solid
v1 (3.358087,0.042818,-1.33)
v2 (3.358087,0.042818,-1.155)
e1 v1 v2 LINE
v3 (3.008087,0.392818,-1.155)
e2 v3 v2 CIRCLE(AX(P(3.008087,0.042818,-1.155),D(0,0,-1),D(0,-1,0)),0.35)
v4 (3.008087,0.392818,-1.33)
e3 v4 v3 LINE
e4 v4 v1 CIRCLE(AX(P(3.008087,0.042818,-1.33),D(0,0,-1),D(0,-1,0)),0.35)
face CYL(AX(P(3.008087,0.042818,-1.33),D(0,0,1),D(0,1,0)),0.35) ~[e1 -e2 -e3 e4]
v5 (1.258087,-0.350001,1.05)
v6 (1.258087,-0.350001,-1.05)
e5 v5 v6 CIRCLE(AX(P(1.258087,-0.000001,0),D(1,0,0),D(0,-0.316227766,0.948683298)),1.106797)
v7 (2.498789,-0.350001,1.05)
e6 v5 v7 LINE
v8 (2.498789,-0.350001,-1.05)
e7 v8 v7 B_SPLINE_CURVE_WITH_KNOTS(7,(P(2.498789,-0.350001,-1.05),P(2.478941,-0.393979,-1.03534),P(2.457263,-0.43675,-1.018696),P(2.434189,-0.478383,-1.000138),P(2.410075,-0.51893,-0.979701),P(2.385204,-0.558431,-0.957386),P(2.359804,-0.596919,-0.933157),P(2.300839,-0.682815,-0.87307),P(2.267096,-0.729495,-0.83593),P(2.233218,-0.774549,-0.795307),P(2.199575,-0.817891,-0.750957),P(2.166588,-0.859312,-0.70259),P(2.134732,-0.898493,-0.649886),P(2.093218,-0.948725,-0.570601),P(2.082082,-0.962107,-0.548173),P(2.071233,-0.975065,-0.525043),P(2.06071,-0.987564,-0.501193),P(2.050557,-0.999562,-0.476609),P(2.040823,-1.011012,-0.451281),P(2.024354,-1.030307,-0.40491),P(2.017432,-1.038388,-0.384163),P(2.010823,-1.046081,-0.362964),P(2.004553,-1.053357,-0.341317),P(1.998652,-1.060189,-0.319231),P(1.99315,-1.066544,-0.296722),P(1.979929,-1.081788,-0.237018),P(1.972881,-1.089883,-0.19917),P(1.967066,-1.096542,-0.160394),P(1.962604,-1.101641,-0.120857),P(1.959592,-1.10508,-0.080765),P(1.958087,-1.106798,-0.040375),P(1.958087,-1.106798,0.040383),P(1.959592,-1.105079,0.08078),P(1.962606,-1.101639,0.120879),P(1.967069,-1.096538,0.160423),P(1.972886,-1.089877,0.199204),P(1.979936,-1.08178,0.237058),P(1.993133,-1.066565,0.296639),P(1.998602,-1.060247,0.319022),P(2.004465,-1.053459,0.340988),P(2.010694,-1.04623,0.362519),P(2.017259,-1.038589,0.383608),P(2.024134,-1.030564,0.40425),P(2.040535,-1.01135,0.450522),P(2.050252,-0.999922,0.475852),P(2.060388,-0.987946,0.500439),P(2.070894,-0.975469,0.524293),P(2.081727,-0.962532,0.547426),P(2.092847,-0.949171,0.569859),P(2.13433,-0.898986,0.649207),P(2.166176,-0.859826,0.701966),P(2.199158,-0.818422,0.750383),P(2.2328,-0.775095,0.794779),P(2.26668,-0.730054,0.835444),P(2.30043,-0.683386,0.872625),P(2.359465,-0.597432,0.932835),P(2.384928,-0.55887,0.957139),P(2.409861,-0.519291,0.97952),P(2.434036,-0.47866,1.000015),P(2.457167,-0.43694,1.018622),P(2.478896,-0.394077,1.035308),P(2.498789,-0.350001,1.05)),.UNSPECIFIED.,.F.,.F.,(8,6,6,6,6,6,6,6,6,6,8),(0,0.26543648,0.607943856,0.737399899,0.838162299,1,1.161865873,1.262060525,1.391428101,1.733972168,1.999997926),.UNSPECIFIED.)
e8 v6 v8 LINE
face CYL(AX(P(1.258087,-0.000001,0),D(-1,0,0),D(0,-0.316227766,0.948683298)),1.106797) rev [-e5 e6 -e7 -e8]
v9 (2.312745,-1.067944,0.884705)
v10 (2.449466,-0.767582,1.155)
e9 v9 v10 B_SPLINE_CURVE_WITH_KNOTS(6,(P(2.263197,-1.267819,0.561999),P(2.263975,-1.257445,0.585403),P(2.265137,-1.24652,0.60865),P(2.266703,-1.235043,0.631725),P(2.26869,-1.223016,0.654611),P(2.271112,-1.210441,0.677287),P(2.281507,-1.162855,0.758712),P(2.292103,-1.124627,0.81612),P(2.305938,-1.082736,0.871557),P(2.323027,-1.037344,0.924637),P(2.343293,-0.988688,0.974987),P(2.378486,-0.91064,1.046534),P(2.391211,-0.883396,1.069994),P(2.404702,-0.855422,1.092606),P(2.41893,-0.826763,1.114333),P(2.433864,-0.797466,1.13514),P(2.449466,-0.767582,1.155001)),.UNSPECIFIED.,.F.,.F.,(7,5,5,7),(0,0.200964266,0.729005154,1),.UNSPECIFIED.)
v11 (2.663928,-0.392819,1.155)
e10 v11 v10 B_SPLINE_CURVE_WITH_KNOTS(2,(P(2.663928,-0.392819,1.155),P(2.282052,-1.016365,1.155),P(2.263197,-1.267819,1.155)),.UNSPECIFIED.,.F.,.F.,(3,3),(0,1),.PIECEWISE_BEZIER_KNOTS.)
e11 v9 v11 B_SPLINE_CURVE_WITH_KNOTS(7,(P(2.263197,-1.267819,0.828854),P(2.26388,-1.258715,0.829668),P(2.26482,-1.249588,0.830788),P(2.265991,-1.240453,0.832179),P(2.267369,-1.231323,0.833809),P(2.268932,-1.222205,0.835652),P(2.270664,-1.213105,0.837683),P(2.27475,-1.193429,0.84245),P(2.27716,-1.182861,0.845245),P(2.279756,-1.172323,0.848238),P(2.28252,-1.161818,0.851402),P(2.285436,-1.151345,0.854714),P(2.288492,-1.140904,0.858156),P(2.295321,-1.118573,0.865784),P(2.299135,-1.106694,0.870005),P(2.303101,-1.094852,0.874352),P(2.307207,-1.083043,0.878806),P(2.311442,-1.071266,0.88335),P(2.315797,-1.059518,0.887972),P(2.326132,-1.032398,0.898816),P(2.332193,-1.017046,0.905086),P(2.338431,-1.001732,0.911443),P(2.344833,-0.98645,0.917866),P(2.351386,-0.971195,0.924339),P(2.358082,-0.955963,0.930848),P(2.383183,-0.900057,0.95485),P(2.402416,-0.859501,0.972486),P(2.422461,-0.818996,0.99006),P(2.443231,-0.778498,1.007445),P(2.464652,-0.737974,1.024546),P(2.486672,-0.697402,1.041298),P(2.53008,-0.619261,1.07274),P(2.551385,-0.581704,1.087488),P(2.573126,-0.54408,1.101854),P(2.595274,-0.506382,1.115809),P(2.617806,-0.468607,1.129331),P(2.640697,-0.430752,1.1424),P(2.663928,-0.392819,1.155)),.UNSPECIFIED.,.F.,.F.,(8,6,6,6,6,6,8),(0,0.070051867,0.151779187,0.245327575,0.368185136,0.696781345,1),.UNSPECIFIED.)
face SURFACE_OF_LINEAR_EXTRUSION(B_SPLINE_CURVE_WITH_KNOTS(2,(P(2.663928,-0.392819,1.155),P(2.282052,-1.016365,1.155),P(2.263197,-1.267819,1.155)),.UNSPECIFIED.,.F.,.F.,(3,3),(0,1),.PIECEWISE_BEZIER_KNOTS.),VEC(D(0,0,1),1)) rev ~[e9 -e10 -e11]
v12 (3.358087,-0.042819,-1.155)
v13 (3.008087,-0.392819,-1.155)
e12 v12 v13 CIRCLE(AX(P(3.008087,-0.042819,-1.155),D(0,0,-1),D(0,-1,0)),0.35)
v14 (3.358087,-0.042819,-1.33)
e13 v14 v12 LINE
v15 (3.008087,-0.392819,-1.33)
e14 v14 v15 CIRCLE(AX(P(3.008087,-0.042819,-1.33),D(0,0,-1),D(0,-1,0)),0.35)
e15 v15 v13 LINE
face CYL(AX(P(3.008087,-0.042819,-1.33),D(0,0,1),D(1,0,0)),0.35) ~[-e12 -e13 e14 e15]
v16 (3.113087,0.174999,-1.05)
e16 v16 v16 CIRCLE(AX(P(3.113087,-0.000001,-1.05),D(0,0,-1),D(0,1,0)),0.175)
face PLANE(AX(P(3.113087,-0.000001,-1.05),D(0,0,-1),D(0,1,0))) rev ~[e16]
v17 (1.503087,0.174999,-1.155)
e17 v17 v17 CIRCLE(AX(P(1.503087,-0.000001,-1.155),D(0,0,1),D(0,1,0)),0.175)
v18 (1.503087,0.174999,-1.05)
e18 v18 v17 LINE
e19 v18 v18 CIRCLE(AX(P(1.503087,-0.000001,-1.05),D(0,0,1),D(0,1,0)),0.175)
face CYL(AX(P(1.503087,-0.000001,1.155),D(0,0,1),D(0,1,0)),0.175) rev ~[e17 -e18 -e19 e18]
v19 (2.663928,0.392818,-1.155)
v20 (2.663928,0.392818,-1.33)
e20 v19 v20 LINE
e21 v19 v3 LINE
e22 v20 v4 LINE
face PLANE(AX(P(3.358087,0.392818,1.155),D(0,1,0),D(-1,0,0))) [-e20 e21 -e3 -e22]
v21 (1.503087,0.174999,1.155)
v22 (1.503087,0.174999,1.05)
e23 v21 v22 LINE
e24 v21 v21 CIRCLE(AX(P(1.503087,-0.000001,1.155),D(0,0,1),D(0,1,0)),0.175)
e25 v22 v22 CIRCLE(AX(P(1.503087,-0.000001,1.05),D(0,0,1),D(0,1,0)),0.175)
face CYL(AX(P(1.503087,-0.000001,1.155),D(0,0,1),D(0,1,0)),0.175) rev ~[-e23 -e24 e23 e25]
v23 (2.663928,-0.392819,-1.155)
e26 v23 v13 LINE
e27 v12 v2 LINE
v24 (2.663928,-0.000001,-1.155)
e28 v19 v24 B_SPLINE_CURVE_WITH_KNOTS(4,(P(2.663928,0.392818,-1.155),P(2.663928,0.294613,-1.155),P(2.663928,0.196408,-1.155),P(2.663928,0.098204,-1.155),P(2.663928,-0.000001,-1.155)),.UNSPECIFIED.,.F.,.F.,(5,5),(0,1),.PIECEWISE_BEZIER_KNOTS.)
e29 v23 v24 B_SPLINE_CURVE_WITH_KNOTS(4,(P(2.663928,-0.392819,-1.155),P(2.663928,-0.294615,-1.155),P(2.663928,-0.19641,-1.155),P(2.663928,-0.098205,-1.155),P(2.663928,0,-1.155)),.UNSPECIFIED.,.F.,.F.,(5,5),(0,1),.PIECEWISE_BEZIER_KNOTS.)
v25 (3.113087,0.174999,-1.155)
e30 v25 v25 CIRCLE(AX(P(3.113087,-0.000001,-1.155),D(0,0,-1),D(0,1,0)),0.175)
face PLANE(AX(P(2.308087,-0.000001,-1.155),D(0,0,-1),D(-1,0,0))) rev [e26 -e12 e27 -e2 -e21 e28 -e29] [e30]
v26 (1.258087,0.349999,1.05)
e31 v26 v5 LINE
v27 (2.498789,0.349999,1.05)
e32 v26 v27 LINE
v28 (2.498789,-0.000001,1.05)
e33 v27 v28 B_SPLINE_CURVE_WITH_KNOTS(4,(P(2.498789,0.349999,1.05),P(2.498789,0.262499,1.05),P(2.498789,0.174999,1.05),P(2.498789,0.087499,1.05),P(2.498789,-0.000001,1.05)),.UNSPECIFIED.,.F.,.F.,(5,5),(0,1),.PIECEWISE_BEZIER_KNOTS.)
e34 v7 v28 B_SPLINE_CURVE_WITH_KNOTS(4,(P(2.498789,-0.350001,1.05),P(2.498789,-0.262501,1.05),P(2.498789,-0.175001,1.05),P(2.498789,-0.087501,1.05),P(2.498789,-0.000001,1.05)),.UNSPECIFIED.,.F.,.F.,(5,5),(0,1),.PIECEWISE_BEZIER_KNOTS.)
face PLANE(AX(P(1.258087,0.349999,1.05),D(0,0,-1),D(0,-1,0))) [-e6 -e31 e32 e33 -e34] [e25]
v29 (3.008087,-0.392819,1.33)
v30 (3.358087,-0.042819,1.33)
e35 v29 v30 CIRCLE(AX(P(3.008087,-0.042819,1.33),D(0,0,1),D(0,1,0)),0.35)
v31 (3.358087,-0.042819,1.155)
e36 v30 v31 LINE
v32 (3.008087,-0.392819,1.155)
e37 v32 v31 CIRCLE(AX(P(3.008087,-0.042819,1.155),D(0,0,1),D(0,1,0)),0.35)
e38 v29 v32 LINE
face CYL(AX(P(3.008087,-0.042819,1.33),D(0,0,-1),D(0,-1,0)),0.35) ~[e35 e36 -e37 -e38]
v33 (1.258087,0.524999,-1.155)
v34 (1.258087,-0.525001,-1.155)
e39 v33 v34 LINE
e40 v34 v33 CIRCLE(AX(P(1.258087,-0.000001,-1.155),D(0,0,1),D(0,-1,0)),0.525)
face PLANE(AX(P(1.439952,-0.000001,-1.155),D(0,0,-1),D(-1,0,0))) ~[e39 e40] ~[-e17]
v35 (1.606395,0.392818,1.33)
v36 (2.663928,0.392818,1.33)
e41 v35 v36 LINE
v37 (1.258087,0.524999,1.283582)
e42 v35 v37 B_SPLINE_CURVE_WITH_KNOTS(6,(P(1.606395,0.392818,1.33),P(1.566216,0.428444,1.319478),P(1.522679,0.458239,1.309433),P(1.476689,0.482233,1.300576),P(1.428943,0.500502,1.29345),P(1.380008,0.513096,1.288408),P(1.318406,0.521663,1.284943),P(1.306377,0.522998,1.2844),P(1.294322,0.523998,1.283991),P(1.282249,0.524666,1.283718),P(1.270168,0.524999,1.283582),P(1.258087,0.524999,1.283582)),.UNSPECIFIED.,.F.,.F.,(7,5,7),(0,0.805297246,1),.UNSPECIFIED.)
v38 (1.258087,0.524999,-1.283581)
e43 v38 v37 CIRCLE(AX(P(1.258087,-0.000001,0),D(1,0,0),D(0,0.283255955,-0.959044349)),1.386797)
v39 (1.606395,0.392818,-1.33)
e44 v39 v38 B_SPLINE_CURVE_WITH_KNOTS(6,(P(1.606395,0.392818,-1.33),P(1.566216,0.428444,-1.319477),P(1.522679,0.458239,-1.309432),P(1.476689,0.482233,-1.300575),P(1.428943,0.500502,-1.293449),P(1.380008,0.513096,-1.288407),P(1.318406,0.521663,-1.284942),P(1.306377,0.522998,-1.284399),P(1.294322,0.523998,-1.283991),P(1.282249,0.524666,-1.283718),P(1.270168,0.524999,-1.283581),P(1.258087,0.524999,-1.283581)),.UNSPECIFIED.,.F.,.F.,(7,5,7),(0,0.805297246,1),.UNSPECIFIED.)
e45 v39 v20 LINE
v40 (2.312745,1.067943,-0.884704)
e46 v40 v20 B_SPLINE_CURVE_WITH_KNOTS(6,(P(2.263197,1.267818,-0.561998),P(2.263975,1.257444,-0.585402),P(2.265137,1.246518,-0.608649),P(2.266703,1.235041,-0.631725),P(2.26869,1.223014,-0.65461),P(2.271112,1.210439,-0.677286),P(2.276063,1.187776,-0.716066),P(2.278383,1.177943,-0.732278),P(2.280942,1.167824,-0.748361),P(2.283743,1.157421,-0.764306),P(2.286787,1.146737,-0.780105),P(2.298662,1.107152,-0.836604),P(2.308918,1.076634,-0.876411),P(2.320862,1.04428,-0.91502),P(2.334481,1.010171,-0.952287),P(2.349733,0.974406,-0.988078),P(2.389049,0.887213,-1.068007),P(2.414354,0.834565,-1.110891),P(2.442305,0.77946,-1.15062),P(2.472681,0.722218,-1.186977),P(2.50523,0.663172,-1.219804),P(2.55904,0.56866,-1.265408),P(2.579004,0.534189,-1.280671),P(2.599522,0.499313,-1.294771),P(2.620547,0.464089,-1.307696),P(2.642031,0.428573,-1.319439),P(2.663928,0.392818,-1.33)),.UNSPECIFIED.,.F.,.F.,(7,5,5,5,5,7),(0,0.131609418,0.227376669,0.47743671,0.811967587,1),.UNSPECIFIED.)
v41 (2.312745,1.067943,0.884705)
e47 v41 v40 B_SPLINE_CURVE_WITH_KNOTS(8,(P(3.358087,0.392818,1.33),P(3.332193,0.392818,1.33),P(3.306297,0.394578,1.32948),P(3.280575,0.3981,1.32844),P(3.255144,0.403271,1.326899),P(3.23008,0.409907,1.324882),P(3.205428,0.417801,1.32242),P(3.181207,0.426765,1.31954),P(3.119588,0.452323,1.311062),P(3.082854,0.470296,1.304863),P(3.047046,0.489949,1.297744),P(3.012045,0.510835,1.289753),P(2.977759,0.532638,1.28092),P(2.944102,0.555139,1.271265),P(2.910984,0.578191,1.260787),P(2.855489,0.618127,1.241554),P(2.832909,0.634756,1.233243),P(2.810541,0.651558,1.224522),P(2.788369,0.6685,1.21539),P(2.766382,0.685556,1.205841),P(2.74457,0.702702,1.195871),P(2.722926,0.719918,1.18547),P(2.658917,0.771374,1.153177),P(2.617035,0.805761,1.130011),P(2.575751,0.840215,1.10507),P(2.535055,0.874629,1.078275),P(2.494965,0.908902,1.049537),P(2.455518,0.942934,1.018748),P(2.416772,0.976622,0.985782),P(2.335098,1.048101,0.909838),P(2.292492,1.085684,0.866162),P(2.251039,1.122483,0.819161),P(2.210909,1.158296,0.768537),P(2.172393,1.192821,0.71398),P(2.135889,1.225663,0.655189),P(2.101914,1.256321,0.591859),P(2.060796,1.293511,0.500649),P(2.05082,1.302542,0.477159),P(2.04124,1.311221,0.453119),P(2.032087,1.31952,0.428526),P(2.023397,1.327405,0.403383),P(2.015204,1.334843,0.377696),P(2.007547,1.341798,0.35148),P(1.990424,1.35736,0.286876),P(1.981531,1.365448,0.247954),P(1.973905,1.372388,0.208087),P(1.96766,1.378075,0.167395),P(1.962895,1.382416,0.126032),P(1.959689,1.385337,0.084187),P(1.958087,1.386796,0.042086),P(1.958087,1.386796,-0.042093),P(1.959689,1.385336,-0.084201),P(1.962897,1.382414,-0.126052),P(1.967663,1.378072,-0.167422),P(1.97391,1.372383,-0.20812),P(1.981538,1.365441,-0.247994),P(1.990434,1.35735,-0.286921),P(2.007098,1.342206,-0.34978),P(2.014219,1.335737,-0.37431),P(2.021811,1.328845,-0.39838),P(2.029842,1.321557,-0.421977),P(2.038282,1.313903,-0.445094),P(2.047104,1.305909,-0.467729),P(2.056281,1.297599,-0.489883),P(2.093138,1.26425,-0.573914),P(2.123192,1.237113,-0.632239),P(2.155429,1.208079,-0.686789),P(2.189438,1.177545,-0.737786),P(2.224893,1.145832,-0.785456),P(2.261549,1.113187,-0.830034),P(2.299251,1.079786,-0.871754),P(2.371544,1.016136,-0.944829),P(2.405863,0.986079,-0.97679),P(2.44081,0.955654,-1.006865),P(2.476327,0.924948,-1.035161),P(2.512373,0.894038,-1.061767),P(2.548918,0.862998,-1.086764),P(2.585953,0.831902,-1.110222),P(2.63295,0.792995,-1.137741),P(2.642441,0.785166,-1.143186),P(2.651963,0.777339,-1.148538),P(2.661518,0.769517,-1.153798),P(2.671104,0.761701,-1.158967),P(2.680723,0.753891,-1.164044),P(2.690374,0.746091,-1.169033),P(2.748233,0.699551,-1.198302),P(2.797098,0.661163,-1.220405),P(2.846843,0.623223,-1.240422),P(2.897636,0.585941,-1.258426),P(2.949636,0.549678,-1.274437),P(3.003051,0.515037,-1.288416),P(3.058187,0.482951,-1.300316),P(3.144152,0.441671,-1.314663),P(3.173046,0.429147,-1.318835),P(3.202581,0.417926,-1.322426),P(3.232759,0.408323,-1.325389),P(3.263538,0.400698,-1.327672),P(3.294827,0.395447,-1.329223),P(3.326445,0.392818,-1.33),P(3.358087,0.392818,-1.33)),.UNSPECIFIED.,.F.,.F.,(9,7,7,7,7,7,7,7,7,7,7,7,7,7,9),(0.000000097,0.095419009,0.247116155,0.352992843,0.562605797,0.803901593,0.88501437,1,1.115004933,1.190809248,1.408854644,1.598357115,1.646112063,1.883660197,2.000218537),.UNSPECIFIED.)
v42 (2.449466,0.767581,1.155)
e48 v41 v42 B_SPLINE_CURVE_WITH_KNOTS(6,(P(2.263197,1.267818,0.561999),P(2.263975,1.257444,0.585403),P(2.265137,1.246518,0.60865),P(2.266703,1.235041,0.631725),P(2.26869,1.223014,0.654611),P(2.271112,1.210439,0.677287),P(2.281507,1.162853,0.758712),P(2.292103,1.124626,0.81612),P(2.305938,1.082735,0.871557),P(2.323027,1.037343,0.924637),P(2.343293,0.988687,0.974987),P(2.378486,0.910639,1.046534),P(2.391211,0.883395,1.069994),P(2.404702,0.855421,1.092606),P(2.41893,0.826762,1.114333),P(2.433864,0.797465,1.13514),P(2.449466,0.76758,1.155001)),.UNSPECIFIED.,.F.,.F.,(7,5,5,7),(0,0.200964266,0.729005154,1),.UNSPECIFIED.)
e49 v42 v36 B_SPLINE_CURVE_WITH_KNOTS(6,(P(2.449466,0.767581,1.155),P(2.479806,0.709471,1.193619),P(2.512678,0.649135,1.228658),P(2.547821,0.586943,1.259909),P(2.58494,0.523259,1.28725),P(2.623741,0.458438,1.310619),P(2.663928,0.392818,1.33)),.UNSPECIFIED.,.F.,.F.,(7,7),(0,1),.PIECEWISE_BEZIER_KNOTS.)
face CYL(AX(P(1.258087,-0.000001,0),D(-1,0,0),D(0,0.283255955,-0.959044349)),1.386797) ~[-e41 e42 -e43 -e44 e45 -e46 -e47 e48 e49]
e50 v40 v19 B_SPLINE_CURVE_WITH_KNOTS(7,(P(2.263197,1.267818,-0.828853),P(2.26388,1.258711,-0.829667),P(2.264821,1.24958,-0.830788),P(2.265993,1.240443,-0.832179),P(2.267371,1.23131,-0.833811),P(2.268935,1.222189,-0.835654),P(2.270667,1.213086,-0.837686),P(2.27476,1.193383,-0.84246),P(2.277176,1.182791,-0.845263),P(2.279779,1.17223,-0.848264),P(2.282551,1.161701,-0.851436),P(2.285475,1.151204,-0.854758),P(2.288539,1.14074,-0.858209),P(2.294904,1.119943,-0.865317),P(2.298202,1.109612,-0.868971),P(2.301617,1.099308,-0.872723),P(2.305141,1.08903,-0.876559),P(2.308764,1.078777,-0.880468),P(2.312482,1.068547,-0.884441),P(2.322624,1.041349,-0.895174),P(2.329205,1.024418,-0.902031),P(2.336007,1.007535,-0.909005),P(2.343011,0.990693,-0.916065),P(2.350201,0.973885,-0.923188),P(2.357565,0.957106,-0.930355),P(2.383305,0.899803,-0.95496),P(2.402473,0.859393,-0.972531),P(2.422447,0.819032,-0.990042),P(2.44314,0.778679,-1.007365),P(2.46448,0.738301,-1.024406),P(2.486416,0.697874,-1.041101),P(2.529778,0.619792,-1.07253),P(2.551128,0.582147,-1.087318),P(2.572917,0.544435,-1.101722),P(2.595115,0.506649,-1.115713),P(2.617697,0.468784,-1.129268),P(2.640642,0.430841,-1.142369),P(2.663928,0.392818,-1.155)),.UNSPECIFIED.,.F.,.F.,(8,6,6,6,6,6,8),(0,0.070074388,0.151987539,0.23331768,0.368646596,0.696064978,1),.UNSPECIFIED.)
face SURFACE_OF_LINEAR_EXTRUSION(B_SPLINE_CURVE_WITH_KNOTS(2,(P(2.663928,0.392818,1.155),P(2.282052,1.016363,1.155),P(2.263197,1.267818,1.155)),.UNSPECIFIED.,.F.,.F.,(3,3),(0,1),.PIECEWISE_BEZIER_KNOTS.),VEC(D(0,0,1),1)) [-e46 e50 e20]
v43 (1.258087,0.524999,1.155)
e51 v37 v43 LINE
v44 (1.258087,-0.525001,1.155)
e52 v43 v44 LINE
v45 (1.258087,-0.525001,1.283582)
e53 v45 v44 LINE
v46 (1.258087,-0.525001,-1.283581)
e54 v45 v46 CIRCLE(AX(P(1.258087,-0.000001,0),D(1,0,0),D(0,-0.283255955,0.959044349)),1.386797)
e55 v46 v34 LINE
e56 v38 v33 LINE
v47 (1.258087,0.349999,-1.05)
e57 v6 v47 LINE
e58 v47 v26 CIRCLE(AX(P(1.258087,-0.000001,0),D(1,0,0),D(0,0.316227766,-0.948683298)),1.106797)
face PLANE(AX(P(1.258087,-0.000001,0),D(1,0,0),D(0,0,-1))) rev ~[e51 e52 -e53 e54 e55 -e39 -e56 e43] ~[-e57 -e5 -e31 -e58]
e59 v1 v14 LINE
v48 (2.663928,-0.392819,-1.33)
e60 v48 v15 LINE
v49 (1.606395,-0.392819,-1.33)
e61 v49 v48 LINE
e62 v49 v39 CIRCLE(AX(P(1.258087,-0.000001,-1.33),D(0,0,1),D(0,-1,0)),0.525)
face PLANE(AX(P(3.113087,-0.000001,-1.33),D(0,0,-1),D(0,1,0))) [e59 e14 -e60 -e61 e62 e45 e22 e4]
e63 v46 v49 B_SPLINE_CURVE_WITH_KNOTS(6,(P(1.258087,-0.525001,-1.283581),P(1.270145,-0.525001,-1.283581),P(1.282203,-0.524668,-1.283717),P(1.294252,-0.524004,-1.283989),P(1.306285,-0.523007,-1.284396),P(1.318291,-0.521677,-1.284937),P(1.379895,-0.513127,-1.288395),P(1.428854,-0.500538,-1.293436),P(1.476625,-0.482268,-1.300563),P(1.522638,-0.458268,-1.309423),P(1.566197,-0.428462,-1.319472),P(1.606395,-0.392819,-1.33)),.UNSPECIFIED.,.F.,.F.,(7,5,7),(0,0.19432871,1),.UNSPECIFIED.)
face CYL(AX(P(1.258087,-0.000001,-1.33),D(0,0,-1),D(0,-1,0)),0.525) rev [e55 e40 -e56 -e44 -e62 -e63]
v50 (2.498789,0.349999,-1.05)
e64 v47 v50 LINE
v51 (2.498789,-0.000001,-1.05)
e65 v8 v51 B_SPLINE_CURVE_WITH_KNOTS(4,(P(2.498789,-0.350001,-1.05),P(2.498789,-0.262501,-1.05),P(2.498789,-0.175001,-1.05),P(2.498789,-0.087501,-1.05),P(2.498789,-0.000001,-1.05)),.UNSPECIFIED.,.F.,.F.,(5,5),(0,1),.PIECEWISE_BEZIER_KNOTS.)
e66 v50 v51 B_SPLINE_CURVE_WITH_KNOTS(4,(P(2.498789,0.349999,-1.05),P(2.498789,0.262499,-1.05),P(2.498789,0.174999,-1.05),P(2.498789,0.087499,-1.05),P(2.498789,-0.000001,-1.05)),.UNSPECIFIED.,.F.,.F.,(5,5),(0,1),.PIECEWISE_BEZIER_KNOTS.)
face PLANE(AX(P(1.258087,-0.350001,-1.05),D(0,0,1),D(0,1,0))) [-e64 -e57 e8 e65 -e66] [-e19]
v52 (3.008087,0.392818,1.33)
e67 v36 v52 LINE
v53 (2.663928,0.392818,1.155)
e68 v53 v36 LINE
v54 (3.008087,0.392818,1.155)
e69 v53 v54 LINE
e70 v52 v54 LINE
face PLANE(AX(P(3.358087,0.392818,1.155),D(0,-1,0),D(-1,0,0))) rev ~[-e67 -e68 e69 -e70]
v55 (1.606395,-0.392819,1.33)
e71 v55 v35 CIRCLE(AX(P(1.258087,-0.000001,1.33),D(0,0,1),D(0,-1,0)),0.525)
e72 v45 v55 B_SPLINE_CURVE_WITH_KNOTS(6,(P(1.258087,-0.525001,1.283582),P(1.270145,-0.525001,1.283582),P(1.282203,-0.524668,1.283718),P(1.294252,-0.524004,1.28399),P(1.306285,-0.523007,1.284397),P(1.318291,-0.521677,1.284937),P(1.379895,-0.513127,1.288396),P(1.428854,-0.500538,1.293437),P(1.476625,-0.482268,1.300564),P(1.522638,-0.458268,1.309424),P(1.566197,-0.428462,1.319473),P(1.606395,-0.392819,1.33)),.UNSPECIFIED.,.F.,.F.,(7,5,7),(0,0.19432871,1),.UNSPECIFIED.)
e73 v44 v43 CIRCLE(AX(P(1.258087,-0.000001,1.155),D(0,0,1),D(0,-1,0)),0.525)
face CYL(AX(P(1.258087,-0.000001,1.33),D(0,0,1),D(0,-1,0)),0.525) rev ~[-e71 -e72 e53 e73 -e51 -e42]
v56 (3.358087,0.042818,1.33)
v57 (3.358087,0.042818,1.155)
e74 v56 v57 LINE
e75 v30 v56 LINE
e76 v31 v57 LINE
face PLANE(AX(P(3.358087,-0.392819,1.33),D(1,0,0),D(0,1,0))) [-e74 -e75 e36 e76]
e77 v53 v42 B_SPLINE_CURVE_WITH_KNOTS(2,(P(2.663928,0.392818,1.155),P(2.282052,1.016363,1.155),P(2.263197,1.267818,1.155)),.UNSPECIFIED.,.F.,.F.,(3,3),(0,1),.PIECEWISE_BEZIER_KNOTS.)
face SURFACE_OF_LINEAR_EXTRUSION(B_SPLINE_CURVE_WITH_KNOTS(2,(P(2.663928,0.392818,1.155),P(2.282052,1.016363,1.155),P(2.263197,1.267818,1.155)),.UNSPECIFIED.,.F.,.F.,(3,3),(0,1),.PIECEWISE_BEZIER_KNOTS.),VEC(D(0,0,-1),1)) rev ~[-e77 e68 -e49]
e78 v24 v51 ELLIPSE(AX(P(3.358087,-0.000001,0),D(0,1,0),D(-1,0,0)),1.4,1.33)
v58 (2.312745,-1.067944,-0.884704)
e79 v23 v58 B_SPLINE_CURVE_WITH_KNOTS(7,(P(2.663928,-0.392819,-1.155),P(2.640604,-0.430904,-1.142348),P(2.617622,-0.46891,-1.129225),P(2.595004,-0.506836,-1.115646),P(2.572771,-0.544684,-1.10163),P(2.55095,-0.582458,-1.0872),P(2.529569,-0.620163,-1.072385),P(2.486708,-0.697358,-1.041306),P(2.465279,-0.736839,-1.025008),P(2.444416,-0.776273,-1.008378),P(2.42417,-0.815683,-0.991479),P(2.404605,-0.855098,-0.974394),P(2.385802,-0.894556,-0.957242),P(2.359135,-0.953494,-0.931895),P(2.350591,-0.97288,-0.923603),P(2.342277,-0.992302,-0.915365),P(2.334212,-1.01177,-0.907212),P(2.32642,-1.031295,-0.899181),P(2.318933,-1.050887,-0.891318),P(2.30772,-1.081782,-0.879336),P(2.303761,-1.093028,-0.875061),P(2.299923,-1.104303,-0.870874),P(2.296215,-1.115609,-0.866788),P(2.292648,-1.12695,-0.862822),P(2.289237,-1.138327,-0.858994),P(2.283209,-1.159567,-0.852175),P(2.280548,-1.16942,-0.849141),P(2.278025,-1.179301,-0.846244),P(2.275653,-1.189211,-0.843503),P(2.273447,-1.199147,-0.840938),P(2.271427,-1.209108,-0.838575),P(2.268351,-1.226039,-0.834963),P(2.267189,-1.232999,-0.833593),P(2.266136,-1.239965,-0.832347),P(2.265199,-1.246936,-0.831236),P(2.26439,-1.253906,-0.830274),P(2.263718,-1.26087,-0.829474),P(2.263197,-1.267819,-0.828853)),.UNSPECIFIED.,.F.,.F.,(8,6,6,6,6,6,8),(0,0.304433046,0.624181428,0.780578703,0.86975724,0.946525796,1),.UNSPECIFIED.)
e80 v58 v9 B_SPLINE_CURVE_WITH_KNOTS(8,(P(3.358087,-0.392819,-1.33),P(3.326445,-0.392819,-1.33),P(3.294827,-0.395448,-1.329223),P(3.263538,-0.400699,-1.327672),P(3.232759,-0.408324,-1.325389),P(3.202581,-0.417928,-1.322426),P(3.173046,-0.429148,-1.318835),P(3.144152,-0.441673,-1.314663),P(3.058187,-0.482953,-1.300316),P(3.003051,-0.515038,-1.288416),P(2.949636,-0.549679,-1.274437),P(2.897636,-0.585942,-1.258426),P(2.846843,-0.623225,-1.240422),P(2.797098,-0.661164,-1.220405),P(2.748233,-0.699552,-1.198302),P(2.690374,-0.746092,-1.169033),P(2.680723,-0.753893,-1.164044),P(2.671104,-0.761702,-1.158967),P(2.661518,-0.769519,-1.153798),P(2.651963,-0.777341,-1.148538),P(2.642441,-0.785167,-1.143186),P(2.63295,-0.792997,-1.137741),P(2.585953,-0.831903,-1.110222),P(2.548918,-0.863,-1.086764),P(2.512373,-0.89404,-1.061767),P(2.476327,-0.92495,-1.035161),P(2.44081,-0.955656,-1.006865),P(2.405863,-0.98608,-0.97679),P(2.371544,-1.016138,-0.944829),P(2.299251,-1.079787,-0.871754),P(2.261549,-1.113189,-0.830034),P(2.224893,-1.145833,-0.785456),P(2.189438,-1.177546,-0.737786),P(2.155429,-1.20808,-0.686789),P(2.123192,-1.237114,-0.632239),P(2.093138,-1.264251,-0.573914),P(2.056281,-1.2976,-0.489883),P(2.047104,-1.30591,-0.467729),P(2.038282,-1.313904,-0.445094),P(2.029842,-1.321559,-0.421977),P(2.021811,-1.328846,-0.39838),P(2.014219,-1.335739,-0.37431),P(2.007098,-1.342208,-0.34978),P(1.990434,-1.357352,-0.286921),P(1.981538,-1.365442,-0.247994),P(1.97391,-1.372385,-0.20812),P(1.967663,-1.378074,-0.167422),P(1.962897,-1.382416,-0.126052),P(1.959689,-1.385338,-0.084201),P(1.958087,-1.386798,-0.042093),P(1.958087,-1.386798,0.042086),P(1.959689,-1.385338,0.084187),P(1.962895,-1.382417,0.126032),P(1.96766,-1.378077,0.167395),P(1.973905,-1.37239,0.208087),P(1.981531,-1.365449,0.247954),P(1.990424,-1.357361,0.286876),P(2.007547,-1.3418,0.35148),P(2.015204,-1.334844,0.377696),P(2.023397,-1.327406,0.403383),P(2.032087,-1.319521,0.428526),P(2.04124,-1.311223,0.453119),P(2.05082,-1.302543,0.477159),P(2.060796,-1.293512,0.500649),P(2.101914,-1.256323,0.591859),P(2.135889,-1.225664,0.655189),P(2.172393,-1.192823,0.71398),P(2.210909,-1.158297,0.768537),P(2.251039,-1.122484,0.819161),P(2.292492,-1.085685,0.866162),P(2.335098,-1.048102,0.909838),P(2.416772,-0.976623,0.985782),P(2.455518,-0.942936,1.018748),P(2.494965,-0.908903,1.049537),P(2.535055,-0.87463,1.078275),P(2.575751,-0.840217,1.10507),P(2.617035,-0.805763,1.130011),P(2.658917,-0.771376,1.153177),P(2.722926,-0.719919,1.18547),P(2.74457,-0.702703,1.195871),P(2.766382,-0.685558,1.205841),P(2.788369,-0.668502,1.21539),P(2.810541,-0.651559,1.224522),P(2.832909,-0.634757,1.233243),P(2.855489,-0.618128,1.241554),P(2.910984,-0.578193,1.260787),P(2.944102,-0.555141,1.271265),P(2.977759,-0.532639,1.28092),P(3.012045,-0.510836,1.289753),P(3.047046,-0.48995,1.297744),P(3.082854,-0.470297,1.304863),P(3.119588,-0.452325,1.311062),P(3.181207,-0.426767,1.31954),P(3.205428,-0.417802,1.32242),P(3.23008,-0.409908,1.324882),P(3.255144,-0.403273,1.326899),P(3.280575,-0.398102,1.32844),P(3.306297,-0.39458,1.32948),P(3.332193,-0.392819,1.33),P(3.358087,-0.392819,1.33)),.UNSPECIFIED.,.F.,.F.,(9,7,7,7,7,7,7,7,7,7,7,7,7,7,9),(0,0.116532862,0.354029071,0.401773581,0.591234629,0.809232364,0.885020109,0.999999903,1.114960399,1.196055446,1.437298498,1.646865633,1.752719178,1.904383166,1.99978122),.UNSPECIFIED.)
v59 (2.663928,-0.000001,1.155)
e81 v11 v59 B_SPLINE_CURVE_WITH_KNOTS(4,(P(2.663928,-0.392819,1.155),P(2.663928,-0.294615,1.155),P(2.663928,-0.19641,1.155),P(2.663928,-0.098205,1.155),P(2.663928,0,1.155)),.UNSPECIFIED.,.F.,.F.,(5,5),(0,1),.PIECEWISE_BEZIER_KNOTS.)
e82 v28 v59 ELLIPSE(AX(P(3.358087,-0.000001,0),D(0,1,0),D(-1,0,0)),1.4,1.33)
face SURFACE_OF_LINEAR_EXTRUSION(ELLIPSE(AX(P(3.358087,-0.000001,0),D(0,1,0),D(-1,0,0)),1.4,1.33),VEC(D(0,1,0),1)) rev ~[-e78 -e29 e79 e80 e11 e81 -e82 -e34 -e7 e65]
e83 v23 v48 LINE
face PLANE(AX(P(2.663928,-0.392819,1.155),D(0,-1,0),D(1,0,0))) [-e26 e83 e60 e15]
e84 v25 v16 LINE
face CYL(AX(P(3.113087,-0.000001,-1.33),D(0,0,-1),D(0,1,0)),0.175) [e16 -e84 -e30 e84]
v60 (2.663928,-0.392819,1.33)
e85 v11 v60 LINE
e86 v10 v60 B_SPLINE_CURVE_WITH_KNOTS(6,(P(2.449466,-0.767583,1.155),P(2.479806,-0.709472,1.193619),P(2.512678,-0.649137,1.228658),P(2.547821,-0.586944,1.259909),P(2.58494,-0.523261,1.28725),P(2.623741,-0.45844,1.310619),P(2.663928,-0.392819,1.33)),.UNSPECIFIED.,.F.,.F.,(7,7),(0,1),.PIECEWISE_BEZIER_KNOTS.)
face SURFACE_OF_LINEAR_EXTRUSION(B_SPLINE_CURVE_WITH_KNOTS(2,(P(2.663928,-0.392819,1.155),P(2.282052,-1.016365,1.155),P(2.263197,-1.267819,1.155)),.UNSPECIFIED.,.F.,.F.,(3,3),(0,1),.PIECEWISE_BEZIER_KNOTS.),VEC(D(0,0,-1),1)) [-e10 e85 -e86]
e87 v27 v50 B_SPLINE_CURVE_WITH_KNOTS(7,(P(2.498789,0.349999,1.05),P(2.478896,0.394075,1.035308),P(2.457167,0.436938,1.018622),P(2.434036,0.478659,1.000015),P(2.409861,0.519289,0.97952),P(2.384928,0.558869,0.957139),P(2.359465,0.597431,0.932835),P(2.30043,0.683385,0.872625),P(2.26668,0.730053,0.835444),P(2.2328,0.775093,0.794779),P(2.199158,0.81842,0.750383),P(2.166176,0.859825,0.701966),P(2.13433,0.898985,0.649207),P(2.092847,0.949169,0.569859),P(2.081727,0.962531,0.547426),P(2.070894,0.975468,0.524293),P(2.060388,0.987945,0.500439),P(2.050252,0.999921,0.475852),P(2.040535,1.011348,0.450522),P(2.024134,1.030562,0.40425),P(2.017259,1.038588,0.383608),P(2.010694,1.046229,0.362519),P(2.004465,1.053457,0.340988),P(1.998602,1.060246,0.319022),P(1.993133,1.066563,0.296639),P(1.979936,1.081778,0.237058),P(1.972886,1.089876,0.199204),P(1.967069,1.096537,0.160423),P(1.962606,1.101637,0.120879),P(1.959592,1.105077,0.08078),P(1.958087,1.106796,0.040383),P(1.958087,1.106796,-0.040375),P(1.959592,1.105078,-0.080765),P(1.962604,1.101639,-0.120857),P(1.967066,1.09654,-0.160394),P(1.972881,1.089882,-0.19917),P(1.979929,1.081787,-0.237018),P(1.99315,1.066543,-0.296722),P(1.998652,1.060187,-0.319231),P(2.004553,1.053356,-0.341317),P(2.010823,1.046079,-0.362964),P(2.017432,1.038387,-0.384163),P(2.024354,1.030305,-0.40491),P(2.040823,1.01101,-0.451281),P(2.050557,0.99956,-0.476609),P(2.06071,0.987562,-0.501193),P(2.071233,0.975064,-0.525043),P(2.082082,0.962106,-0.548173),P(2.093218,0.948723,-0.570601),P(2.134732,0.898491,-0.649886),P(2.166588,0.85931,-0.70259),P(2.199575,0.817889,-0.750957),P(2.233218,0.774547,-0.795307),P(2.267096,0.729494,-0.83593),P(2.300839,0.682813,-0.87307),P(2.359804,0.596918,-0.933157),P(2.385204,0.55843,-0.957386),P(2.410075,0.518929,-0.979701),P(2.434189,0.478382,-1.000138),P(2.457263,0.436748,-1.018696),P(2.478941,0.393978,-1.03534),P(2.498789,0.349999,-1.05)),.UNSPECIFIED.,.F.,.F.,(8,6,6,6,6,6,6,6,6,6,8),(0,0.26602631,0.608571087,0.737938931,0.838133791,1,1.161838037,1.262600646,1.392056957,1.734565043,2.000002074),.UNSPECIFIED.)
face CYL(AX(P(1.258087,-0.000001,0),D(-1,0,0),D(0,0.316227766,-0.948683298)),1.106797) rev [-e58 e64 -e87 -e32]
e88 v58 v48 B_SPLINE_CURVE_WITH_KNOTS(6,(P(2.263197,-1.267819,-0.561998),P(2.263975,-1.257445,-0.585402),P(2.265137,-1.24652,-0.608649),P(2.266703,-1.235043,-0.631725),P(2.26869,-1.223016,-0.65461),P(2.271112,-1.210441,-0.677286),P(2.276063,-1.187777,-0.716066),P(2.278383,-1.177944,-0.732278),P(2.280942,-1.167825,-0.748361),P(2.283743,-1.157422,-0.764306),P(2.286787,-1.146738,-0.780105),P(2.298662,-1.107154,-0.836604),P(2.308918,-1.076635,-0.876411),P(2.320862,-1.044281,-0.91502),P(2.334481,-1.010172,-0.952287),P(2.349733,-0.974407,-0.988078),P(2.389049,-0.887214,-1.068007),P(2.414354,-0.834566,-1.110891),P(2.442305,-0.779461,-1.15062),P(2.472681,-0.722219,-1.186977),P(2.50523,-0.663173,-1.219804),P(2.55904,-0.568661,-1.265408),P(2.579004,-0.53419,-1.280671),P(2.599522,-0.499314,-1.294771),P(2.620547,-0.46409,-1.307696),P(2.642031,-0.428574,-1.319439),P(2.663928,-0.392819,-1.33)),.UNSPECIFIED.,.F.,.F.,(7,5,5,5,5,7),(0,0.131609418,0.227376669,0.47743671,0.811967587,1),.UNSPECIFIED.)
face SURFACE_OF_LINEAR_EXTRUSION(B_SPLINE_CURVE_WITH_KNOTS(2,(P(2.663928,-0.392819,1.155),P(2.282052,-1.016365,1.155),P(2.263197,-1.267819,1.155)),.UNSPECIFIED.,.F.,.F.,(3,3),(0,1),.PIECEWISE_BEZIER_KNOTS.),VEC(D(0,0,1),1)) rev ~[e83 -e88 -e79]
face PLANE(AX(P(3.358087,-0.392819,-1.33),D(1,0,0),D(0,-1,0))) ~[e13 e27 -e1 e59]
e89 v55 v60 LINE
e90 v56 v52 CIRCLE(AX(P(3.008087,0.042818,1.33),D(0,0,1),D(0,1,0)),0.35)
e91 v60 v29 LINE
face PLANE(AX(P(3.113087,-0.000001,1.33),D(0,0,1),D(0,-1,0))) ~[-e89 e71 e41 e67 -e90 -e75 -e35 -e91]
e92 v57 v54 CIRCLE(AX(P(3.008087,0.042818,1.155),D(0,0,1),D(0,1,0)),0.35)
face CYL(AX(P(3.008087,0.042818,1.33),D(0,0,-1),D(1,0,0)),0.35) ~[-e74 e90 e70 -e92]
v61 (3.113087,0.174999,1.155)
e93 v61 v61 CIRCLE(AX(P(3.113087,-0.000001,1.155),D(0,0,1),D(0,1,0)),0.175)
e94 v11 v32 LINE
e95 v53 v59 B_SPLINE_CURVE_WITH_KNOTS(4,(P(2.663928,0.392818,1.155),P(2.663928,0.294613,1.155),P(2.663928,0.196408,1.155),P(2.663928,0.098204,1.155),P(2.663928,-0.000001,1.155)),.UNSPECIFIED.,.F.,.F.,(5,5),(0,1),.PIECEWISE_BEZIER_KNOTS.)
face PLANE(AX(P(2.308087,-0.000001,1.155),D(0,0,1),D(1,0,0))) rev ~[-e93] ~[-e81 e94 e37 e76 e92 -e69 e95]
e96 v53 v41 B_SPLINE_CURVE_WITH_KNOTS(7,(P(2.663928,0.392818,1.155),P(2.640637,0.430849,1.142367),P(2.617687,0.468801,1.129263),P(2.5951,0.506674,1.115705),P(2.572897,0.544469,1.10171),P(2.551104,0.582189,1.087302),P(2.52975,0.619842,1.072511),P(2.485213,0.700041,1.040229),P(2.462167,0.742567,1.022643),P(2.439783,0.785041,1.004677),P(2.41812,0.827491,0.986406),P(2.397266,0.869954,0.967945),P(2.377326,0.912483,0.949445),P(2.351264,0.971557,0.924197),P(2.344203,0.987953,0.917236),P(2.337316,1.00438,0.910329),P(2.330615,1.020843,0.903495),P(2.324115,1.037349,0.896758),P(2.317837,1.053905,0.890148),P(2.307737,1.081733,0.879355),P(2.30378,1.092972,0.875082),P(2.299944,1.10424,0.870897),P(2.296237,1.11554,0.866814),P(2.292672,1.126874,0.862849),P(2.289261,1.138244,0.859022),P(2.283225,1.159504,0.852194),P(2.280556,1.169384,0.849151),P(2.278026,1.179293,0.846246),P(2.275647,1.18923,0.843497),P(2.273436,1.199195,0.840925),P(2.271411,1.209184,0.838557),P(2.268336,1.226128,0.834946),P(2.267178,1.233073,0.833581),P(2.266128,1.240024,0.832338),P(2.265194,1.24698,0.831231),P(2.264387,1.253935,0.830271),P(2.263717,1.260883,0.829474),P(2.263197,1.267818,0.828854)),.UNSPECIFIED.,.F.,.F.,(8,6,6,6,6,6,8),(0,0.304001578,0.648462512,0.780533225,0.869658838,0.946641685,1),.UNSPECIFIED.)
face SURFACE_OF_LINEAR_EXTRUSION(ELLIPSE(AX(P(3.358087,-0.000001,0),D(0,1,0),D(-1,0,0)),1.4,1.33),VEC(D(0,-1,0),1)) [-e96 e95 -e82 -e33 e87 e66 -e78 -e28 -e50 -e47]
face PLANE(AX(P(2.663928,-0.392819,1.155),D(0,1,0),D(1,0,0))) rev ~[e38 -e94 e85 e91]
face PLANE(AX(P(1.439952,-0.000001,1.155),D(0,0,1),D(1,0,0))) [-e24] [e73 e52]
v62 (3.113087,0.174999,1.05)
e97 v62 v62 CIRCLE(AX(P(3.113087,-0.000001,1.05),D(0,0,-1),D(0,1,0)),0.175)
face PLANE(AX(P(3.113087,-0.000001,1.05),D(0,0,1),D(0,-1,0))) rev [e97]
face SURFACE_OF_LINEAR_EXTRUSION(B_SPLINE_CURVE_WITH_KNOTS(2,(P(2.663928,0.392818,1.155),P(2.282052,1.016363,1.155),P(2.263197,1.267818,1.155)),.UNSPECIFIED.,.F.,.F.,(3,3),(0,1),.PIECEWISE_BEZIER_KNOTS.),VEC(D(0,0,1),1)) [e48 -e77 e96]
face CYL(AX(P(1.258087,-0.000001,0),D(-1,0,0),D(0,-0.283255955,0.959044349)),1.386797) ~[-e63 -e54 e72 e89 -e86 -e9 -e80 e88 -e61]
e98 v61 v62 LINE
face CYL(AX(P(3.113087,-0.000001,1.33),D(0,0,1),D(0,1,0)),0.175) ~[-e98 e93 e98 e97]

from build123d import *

# Parameters (mm, degrees)
DODANIE_WYCI_GNI_CIE2_DEPTH     = 6
SZKIC6_RX                       = 4
SZKIC6_RY                       = 3.8
WYTNIJ_WYCI_GNI_CIE4_DEPTH      = 4.96227766
WYTNIJ_WYCI_GNI_CIE4_DEPTH_BACK = 4.96227766
SZKIC10_W                       = 6
SZKIC10_H                       = 2.244677488
DODANIE_WYCI_GNI_CIE5_DEPTH     = 0.5
WYTNIJ_WYCI_GNI_CIE6_DEPTH      = 8.1000001
WYTNIJ_WYCI_GNI_CIE6_DEPTH_BACK = 1.5000001
ZAOKR_GLENIE3_R                 = 1
WYTNIJ_WYCI_GNI_CIE8_DEPTH      = 0.5
SZKIC14_R                       = 0.5
WYTNIJ_WYCI_GNI_CIE9_DEPTH      = 8.1000001
SZKIC12_R                       = 0.5
DODANIE_WYCI_GNI_CIE6_DEPTH     = 0.8
SKALA1_SCALE                    = 0.35


with BuildPart() as part:
    # Szkic4 → Dodanie-wyciągnięcie2 (new body)
    with BuildSketch(Plane(origin=(0, 0, 0), x_dir=(0, 0, -1), z_dir=(1, 0, 0))):
        with BuildLine():
            Line((-3.8, 1.122338744), (-3.8, -1.122338744))
            ThreePointArc((-3.8, -1.122338744), (0, -3.96227766), (3.8, -1.122338744))
            Line((3.8, -1.122338744), (3.8, 1.122338744))
            ThreePointArc((3.8, 1.122338744), (0, 3.96227766), (-3.8, 1.122338744))
        make_face()
        with BuildLine():
            ThreePointArc((3, 1), (0, 3.16227766), (-3, 1))
            Line((-3, 1), (-3, -1))
            ThreePointArc((-3, -1), (0, -3.16227766), (3, -1))
            Line((3, -1), (3, 1))
        make_face(mode=Mode.SUBTRACT)
    extrude(amount=DODANIE_WYCI_GNI_CIE2_DEPTH)

    # Szkic6 → Wytnij-wyciągnięcie4 (cut, two sides)
    with BuildSketch(Plane(origin=(0, 0, 0), x_dir=(1, 0, 0), z_dir=(0, 1, 0))) as wytnij_wyci_gni_cie4_sk:
        with Locations(Location((6, 0), (0, 0, 180))):
            Ellipse(SZKIC6_RX, SZKIC6_RY)
    extrude(amount=WYTNIJ_WYCI_GNI_CIE4_DEPTH, mode=Mode.SUBTRACT)
    extrude(wytnij_wyci_gni_cie4_sk.sketch, amount=-WYTNIJ_WYCI_GNI_CIE4_DEPTH_BACK, mode=Mode.SUBTRACT)

    # Szkic10 → Dodanie-wyciągnięcie5 (add)
    with BuildSketch(Plane.XY.offset(3.8)):
        with Locations((3, 0)):
            Rectangle(SZKIC10_W, SZKIC10_H)
    dodanie_wyci_gni_cie5 = extrude(amount=-DODANIE_WYCI_GNI_CIE5_DEPTH)

    # Szkic11 → Wytnij-wyciągnięcie6 (cut, two sides)
    with BuildSketch(Plane(origin=(0, 0, 3.3), x_dir=(-1, 0, 0), z_dir=(0, 0, -1))) as wytnij_wyci_gni_cie6_sk:
        with BuildLine():
            Line((-6, -3.622338744), (-2.871743963, -3.622338744))
            add(Edge.make_bspline(
                [(-4.016690139, -1.122338744), (-2.925616262, -2.903897768), (-2.871743963, -3.622338744)],
                knots=[0, 0, 0, 1, 1, 1], degree=2))
            Line((-4.016690139, -1.122338744), (-6, -1.122338744))
            Line((-6, -1.122338744), (-6, -3.622338744))
        make_face()
        with BuildLine():
            Line((-6, 1.122338744), (-4.016690139, 1.122338744))
            add(Edge.make_bspline(
                [(-4.016690139, 1.122338744), (-2.925616262, 2.903897768), (-2.871743963, 3.622338744)],
                knots=[0, 0, 0, 1, 1, 1], degree=2))
            Line((-2.871743963, 3.622338744), (-6, 3.622338744))
            Line((-6, 3.622338744), (-6, 1.122338744))
        make_face()
    extrude(amount=WYTNIJ_WYCI_GNI_CIE6_DEPTH, mode=Mode.SUBTRACT)
    extrude(wytnij_wyci_gni_cie6_sk.sketch, amount=-WYTNIJ_WYCI_GNI_CIE6_DEPTH_BACK, mode=Mode.SUBTRACT)

    # Lustro2: Dodanie-wyciągnięcie5 across plane
    add(dodanie_wyci_gni_cie5.mirror(Plane.XY))

    # Zaokrąglenie3
    zaokr_glenie3_edges = [part.edges().sort_by_distance(p)[0] for p in [
        (6, 1.122338744, -3.55),
        (6, -1.122338744, -3.55),
        (6, -1.122338744, 3.55),
        (6, 1.122338744, 3.55),
    ]]
    fillet(zaokr_glenie3_edges, radius=ZAOKR_GLENIE3_R)

    # Szkic13 → Wytnij-wyciągnięcie8 (cut)
    with BuildSketch(Plane.XY.offset(3.8)):
        with BuildLine():
            Line((0, 1.5), (0, -1.5))
            ThreePointArc((0, -1.5), (1.5, 0), (0, 1.5))
        make_face()
    wytnij_wyci_gni_cie8 = extrude(amount=-WYTNIJ_WYCI_GNI_CIE8_DEPTH, mode=Mode.SUBTRACT)

    # Lustro3: Wytnij-wyciągnięcie8 across plane
    add(wytnij_wyci_gni_cie8.mirror(Plane.XY), mode=Mode.SUBTRACT)

    # Szkic14 → Wytnij-wyciągnięcie9 (cut, through all)
    with BuildSketch(Plane.XY.offset(3.3)):
        with Locations(Location((0.7, 0, 0), (0, 0, 90))):  # turned: the seam where the file's is
            Circle(SZKIC14_R)
    extrude(amount=-WYTNIJ_WYCI_GNI_CIE9_DEPTH, mode=Mode.SUBTRACT)

    # Szkic12 → Dodanie-wyciągnięcie6 (add)
    with BuildSketch(Plane(origin=(0, 0, -3.8), x_dir=(-1, 0, 0), z_dir=(0, 0, -1))):
        with Locations(Location((-5.3, 0, 0), (0, 0, 90))):  # turned: the seam where the file's is
            Circle(SZKIC12_R)
    dodanie_wyci_gni_cie6 = extrude(amount=-DODANIE_WYCI_GNI_CIE6_DEPTH)

    # Lustro4: Dodanie-wyciągnięcie6 across plane
    add(dodanie_wyci_gni_cie6.mirror(Plane.XY))


with BuildPart() as part_1:
    # Skala1: scaled about (1.935517978, -1.129e-06, 5.07e-07)
    add(part.part.scale(SKALA1_SCALE).moved(Location((1.258086686, -7.34e-07, 3.3e-07))))


solid = part_1.part
